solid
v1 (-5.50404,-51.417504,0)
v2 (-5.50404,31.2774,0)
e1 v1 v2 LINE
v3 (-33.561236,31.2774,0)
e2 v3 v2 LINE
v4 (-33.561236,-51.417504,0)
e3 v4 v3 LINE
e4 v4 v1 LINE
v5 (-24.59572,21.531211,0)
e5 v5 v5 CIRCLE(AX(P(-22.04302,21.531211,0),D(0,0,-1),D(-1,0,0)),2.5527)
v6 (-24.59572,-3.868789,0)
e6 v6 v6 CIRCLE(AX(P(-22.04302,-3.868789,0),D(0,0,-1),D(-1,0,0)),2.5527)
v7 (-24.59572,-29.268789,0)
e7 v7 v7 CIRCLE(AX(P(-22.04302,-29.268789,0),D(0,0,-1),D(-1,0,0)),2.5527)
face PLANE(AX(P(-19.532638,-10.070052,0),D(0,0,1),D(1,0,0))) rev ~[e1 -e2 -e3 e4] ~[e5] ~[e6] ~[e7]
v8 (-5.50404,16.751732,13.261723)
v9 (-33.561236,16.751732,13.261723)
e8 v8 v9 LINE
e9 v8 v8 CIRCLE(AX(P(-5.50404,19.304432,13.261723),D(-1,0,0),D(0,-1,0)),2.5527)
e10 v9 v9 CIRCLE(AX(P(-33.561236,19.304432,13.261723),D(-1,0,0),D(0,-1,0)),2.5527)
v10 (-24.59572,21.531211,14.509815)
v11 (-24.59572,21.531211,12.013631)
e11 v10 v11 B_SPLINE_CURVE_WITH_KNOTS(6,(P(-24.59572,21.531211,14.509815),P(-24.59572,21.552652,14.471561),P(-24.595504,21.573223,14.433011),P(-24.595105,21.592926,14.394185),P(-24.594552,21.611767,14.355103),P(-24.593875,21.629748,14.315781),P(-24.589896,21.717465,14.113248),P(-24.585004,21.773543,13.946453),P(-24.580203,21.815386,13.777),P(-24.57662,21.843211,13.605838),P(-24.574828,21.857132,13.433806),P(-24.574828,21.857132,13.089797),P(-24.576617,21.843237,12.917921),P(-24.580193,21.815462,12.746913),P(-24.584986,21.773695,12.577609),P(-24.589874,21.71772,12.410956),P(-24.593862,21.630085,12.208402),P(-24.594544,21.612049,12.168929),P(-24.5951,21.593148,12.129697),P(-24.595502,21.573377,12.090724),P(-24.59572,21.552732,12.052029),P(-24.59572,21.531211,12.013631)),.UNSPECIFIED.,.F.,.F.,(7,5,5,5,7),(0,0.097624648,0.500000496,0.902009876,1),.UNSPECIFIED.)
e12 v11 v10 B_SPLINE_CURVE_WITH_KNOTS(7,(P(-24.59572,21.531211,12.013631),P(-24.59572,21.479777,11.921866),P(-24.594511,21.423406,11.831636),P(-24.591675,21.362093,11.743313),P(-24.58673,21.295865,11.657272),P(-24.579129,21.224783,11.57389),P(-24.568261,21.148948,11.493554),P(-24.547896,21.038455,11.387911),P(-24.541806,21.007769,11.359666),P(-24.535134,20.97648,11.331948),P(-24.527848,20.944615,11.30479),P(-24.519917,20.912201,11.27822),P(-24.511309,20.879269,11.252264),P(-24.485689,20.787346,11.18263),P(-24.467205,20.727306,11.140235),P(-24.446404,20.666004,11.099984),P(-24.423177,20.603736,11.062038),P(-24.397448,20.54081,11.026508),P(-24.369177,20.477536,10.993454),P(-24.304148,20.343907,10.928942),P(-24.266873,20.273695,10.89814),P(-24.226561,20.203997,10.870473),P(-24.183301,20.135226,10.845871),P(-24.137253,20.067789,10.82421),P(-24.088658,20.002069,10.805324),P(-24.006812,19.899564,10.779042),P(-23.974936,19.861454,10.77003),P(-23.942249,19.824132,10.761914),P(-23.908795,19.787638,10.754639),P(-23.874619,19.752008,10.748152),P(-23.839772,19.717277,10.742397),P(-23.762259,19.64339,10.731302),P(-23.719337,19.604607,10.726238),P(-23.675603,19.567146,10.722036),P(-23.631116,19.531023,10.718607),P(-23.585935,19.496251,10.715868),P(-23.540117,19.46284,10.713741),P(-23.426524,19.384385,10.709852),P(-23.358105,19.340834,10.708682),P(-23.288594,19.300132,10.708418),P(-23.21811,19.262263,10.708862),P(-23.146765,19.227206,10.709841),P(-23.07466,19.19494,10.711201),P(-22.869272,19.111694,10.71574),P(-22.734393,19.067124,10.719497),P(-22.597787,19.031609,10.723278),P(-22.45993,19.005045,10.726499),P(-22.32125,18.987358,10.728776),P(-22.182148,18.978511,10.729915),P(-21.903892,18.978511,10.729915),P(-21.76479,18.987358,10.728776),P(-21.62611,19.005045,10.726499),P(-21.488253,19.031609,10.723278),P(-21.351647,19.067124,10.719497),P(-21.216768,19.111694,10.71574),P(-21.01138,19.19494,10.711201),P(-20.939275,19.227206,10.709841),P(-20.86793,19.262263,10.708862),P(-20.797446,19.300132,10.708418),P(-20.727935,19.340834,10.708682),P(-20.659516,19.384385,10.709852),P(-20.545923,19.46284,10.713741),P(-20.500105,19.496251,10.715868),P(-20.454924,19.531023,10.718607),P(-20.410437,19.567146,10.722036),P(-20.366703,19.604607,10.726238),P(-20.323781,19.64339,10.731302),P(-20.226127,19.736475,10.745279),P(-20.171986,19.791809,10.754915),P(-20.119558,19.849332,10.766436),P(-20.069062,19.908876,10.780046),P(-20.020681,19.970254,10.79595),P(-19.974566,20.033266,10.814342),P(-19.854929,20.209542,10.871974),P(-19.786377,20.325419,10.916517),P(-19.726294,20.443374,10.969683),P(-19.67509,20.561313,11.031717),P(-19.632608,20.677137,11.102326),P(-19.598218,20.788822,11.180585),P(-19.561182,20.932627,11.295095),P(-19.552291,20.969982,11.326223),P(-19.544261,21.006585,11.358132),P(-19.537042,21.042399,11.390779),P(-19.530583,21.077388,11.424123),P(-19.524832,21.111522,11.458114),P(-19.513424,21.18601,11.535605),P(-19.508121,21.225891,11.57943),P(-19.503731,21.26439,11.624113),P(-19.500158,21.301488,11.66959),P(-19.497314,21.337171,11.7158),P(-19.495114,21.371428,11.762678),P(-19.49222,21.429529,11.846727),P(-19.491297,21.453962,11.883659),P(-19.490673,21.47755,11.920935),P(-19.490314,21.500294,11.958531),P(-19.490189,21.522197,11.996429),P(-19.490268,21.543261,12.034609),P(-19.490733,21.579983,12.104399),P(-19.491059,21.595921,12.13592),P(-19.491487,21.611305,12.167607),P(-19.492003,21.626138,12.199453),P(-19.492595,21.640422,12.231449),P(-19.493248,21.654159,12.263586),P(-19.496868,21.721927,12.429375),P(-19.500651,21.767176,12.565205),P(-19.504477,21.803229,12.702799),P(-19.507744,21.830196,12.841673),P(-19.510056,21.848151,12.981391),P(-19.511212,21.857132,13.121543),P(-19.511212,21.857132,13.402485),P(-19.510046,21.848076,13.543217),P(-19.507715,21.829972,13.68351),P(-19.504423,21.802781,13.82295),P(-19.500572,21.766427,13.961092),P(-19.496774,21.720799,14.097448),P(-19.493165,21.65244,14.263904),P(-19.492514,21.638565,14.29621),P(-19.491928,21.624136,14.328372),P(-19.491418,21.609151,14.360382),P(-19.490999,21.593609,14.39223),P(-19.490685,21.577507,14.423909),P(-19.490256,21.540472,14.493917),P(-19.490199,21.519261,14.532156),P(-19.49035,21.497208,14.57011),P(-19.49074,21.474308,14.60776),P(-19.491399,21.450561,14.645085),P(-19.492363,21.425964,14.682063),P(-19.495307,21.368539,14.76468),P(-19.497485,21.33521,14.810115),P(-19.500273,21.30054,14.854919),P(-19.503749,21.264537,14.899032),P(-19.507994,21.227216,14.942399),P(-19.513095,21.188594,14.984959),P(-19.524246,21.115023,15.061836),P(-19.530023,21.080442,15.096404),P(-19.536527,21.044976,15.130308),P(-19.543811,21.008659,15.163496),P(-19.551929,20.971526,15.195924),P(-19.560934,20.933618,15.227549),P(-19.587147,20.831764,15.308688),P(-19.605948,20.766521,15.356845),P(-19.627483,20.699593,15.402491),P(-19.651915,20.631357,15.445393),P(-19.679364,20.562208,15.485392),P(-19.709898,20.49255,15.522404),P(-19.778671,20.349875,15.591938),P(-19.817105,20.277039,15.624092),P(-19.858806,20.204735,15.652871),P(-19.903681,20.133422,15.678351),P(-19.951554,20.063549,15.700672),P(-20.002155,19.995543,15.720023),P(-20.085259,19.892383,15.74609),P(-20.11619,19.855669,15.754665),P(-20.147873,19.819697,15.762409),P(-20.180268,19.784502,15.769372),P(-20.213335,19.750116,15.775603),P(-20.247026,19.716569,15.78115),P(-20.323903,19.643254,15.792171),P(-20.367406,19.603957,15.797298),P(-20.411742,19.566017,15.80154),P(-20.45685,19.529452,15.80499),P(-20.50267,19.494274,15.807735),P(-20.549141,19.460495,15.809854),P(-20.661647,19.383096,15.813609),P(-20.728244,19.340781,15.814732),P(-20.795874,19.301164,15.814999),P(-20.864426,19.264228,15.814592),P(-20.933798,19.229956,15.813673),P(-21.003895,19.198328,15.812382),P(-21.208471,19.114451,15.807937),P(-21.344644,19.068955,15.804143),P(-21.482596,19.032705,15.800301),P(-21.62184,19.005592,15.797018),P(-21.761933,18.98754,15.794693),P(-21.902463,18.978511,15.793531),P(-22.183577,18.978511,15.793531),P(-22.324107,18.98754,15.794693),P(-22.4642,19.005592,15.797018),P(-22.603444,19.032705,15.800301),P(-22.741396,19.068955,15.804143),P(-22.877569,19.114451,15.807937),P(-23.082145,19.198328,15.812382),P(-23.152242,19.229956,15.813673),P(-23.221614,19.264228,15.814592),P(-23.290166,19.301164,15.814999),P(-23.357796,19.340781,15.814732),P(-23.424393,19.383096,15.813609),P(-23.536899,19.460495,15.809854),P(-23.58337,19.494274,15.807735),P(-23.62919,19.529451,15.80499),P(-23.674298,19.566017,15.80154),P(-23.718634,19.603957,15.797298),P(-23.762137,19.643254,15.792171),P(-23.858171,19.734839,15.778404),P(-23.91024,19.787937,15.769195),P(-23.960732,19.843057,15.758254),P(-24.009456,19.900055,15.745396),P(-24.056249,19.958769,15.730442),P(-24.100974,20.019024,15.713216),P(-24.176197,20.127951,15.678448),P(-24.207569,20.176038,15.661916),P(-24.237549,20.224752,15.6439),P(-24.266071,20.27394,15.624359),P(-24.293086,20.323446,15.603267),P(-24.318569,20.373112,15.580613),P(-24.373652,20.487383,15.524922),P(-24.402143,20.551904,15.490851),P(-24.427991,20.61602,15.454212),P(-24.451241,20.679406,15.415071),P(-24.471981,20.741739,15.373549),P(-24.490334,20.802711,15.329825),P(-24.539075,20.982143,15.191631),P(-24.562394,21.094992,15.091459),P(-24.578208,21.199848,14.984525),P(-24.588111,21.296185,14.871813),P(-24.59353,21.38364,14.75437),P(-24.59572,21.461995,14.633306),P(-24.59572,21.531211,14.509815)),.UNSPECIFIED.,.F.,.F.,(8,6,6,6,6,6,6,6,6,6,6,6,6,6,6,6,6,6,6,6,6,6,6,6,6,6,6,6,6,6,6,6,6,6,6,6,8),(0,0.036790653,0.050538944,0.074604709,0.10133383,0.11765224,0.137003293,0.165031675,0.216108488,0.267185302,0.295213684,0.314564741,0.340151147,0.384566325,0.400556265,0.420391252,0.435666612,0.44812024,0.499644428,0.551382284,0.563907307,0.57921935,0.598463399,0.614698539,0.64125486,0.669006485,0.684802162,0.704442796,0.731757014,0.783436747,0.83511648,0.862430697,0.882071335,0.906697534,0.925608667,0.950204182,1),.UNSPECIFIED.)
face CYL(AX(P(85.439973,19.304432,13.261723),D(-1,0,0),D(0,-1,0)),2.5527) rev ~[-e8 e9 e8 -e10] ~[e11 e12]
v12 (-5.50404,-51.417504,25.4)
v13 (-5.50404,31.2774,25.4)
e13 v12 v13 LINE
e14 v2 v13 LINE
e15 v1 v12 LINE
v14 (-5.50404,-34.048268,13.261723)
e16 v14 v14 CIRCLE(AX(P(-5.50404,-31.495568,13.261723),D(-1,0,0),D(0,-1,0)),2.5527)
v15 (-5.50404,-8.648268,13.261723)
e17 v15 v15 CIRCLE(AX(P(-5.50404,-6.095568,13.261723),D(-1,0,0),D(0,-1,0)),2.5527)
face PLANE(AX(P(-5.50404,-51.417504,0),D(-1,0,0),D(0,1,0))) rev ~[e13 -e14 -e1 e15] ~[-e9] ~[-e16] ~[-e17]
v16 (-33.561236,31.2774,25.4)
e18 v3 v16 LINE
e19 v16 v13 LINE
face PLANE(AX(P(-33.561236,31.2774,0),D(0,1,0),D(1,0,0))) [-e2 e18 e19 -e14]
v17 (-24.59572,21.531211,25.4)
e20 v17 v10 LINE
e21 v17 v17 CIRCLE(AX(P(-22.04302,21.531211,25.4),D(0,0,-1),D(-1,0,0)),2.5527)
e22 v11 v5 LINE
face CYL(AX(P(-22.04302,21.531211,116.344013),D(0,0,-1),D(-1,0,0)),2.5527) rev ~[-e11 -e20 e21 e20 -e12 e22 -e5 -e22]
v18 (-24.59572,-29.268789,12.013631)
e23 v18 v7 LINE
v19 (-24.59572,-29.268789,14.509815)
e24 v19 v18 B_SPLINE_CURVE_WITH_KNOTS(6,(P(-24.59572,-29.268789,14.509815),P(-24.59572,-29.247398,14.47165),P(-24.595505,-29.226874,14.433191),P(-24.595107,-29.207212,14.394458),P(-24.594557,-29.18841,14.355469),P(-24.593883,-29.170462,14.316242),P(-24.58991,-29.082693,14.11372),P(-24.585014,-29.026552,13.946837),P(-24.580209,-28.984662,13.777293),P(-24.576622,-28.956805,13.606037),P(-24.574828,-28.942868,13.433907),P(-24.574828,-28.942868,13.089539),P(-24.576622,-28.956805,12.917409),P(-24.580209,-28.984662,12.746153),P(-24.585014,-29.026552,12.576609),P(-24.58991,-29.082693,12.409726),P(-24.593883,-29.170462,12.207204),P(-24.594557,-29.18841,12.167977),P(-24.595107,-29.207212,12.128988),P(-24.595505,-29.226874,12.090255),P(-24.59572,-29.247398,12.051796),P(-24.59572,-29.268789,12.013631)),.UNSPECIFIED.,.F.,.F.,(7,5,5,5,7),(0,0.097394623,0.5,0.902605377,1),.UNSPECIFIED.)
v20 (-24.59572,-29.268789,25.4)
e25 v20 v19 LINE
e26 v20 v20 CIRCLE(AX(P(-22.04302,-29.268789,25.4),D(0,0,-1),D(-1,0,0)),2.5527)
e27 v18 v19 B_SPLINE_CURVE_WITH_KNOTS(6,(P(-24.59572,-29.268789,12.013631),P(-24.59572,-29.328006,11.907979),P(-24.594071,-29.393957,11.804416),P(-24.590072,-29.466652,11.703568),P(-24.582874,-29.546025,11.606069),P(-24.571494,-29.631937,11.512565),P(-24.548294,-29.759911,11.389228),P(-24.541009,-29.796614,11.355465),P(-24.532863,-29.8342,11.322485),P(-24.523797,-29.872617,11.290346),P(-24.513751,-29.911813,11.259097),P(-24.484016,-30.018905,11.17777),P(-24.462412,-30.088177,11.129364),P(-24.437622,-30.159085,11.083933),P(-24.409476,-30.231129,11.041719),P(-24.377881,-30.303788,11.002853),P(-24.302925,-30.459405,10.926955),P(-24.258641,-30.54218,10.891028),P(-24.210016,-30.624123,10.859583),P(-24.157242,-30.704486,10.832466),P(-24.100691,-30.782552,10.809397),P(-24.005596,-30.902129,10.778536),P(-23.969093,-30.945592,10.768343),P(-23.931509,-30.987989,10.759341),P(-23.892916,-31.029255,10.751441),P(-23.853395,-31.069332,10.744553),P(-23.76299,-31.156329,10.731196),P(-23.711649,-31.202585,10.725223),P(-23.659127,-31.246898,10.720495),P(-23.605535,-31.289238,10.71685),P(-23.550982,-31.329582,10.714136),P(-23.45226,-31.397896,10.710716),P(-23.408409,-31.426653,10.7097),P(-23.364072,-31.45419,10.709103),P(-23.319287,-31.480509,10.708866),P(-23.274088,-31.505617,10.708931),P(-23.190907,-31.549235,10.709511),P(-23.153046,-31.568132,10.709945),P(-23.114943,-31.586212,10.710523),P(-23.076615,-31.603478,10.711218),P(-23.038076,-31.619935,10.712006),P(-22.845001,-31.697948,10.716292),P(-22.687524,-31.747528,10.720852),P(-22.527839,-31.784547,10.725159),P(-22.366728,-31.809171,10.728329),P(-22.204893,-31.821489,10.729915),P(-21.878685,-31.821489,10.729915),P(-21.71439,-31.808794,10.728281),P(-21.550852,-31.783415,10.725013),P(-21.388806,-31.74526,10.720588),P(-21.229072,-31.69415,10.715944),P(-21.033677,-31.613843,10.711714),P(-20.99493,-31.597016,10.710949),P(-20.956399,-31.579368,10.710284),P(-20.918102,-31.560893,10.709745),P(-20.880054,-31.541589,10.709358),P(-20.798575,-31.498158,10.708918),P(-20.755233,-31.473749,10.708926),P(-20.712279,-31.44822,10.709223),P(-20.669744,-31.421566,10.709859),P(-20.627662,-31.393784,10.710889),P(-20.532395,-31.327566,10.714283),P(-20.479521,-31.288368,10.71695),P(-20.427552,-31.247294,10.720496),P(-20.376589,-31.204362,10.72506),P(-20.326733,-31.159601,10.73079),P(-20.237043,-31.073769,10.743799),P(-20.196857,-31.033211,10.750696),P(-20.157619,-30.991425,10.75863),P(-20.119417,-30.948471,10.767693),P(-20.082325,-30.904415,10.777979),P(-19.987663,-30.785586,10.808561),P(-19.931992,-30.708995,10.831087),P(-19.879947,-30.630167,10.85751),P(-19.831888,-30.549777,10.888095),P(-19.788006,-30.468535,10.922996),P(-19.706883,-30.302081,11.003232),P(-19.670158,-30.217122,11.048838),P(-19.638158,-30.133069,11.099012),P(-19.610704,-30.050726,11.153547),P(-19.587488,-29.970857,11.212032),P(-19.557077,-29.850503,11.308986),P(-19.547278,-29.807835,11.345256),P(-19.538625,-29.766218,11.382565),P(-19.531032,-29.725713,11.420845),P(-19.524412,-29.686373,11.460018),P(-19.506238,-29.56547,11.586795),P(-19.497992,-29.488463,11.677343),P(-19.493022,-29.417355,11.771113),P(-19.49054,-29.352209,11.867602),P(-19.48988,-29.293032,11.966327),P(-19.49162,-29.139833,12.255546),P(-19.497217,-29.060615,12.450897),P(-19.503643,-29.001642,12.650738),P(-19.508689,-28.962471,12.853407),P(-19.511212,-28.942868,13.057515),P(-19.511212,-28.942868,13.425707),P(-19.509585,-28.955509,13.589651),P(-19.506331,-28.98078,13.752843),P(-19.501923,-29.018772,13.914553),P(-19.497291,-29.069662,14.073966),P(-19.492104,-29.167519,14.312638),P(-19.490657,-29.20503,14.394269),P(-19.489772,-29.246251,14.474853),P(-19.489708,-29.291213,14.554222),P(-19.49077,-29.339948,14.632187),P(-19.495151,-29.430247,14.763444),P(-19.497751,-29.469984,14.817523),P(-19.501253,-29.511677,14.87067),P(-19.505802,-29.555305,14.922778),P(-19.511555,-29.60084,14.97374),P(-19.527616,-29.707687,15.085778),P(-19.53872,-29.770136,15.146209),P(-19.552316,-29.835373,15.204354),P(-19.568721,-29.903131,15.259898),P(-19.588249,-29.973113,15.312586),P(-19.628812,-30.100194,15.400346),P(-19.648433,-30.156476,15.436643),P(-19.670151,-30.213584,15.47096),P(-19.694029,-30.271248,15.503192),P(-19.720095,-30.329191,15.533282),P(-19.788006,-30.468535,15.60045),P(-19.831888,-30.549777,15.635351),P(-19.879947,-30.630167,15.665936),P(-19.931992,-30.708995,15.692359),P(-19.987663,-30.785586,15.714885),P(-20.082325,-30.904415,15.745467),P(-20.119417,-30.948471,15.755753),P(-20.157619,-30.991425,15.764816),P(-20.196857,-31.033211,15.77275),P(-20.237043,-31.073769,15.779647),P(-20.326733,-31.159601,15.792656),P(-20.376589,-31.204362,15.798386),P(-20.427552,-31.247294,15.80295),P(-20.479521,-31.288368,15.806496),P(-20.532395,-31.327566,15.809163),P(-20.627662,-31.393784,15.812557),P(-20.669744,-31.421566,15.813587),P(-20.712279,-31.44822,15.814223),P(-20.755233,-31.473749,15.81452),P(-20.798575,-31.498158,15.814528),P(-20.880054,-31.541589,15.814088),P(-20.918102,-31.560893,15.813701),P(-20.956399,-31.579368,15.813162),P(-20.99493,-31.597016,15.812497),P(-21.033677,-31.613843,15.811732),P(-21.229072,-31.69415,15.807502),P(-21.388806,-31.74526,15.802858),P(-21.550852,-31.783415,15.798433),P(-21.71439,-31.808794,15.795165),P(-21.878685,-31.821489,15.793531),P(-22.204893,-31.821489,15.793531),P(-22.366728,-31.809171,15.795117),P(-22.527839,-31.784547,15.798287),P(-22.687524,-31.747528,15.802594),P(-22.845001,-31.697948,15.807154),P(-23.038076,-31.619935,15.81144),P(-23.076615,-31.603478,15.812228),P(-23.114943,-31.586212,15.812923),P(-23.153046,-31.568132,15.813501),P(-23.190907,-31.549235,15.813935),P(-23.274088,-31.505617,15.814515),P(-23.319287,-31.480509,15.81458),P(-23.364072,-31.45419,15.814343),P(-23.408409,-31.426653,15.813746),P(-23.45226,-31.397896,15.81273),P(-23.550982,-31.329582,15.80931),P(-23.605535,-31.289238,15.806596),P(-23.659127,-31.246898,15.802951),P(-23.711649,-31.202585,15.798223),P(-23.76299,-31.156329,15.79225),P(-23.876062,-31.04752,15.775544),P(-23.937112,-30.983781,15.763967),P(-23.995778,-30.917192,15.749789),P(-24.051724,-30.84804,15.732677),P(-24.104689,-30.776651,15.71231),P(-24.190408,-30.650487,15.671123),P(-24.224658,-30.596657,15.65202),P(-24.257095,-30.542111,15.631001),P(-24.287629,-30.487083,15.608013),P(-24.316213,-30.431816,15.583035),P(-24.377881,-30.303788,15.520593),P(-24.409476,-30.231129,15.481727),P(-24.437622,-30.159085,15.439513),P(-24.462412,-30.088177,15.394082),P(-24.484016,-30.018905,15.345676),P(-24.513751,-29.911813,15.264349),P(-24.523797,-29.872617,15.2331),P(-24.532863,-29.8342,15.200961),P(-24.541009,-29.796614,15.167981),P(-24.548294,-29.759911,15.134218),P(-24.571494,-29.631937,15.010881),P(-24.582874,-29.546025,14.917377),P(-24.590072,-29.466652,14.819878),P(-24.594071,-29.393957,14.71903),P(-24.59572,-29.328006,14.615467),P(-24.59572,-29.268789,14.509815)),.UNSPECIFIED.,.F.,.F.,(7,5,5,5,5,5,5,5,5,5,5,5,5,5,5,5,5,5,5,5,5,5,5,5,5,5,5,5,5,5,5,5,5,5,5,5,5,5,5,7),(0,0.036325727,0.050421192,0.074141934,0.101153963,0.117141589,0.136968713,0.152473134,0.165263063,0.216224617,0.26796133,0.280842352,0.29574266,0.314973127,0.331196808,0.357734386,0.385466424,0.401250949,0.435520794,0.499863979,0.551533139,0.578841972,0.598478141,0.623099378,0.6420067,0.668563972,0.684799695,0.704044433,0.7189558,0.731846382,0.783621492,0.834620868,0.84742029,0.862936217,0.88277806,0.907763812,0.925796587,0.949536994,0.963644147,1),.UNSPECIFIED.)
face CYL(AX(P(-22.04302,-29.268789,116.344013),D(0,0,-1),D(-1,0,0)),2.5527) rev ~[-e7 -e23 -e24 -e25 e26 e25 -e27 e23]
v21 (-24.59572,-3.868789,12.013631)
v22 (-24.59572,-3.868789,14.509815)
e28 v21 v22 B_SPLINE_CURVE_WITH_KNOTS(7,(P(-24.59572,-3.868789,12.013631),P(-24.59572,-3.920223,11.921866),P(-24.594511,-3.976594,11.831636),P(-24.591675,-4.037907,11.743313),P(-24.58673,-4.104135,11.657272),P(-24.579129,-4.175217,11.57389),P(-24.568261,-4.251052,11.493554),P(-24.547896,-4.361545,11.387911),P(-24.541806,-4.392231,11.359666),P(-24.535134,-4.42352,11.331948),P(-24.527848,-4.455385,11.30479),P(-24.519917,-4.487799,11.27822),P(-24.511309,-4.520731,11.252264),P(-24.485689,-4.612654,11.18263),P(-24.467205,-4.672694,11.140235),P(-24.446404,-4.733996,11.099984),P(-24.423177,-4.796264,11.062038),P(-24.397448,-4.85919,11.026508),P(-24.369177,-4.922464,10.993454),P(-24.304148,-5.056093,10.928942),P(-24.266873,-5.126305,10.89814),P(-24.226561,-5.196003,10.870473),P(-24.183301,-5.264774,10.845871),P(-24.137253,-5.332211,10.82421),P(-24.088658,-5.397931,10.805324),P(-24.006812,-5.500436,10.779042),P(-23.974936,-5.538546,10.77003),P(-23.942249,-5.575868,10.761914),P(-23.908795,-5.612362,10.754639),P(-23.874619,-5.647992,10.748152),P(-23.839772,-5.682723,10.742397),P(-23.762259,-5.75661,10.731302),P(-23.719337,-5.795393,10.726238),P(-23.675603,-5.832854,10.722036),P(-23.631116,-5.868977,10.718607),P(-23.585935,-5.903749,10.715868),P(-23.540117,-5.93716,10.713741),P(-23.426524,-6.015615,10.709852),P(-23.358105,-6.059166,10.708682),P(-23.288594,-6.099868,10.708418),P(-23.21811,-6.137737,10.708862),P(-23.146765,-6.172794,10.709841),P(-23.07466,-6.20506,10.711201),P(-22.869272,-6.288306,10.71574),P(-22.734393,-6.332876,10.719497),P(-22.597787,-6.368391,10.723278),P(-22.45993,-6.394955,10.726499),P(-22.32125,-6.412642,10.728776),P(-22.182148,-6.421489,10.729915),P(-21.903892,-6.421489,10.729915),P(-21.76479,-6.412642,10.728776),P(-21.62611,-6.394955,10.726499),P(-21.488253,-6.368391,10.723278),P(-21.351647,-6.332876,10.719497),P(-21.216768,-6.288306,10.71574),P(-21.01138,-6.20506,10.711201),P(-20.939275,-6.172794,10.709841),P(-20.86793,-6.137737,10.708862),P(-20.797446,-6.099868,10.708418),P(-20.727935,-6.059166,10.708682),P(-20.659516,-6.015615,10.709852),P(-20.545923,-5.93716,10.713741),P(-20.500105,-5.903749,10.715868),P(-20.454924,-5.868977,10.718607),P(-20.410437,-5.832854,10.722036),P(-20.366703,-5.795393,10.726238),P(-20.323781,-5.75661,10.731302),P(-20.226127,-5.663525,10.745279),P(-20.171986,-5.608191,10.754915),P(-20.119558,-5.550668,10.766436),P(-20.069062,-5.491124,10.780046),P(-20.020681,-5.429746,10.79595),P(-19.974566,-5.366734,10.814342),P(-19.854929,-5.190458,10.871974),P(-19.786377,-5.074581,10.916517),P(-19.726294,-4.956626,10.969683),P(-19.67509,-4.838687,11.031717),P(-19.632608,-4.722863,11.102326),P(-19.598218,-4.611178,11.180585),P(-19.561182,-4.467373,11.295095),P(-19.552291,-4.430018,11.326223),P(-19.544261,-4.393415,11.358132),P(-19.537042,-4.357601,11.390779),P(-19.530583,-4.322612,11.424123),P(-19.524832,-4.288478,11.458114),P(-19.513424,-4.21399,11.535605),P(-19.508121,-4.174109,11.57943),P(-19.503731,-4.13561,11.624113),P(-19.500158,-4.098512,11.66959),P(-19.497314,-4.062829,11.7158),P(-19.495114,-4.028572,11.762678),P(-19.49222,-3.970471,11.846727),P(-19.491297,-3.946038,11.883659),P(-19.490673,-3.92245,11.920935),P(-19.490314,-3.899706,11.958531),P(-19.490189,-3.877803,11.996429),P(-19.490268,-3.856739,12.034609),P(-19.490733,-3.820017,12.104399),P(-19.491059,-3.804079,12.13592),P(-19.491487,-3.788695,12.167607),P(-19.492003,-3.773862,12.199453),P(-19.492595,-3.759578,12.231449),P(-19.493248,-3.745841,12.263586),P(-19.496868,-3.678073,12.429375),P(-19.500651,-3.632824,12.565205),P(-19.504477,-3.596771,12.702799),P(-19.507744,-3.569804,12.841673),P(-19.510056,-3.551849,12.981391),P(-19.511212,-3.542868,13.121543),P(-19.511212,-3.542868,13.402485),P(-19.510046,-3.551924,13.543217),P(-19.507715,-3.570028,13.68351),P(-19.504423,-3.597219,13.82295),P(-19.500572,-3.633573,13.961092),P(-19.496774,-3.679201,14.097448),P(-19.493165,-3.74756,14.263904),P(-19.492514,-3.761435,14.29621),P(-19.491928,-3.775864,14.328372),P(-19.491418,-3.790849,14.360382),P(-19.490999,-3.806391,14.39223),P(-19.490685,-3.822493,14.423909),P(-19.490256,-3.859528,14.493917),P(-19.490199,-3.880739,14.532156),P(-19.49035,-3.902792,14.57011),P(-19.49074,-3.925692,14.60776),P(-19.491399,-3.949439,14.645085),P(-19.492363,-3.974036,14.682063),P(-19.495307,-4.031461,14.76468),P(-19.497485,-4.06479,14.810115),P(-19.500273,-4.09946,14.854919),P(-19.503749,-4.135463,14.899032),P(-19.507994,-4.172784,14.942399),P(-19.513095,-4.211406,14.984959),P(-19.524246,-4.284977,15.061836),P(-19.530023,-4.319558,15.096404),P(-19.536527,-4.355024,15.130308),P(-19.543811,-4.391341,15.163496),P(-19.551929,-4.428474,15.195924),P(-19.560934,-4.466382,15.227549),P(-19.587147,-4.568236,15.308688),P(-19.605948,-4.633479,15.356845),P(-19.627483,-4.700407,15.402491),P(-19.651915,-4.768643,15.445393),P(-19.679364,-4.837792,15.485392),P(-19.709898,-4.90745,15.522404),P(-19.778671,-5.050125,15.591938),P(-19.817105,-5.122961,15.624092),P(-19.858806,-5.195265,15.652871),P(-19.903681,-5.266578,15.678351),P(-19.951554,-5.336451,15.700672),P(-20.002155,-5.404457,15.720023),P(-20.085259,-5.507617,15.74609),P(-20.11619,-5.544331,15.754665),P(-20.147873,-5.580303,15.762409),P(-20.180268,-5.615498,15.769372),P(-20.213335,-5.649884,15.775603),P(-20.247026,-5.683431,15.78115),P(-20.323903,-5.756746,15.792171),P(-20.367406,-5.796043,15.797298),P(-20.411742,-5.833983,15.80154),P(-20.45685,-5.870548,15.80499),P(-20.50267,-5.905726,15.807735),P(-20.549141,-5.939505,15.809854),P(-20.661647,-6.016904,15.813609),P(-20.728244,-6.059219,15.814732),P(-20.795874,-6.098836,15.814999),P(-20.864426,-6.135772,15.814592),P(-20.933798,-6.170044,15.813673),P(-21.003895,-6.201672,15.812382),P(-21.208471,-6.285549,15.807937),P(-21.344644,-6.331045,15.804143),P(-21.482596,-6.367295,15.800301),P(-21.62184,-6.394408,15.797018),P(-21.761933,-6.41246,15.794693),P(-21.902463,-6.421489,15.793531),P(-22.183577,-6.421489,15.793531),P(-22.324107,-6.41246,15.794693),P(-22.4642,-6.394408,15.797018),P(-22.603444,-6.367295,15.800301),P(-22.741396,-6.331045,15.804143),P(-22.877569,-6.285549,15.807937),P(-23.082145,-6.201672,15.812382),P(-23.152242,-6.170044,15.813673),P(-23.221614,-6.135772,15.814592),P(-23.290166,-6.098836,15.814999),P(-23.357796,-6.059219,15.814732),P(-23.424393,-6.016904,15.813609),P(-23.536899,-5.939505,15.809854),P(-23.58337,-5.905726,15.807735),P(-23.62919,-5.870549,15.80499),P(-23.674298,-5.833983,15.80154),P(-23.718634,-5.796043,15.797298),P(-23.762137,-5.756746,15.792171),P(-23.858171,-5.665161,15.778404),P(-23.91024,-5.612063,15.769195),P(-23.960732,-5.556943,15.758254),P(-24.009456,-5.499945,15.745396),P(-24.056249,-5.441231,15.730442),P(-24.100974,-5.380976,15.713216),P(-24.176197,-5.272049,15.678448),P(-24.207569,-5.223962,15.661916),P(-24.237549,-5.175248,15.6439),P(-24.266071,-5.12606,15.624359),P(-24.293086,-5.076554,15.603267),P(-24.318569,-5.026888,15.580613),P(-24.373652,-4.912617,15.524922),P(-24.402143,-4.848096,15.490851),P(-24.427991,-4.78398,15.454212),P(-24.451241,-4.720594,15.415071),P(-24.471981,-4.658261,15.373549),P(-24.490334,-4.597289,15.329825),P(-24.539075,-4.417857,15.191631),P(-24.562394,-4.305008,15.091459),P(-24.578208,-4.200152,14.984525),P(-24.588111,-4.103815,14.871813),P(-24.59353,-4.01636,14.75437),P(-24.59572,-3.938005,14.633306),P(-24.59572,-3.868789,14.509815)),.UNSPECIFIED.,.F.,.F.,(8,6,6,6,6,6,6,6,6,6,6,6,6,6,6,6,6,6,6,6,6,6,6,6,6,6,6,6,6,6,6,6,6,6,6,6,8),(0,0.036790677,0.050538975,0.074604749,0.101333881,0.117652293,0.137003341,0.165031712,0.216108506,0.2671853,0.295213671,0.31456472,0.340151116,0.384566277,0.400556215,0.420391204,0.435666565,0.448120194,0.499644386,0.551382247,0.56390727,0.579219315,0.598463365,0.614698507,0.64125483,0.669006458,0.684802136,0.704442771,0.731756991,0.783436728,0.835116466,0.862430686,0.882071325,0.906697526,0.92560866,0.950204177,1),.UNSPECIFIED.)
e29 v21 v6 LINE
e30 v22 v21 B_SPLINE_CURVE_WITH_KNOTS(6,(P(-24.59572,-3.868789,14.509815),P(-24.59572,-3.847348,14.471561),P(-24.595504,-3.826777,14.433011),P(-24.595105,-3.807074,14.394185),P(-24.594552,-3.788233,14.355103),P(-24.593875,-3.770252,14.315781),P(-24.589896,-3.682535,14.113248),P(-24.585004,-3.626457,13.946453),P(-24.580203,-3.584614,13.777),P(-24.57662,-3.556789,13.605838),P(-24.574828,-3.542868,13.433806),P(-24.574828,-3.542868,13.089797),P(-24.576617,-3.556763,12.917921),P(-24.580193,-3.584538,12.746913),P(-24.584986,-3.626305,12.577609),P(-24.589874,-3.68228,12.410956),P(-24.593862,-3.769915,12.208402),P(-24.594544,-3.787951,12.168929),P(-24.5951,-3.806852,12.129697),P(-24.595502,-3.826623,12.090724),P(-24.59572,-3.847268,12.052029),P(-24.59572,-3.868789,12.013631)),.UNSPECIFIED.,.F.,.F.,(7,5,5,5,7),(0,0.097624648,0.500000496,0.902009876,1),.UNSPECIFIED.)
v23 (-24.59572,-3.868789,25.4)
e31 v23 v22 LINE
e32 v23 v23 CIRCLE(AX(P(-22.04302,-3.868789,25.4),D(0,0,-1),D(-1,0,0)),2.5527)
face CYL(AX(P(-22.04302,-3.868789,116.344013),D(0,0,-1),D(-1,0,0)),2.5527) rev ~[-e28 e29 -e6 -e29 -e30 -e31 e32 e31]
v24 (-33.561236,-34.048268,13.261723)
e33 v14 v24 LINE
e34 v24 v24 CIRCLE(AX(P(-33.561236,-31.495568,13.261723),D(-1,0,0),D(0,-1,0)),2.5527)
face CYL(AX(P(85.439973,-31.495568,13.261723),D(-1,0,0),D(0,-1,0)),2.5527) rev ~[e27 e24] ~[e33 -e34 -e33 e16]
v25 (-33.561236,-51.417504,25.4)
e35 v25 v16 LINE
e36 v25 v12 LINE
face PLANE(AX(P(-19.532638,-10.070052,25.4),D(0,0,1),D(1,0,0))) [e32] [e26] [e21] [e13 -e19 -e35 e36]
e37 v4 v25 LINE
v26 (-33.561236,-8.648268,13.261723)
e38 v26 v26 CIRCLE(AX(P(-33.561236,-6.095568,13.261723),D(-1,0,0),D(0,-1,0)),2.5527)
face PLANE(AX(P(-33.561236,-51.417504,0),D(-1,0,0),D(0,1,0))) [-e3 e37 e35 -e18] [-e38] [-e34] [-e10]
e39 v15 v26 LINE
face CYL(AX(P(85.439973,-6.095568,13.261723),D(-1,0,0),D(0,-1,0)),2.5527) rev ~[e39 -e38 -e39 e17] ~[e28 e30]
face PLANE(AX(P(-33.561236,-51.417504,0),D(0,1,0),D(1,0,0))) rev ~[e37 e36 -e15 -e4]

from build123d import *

# Parameters (mm, degrees)
F0_W     = 28.057197
F0_H     = 82.694904
F1_DEPTH = 25.4
F4_D     = 5.1054
F5_D     = 5.1054


with BuildPart() as f1:
    # F0 (on Top) → F1 (new body)
    with BuildSketch(Plane.XY):
        with Locations((-19.532638, -10.070052)):
            Rectangle(F0_W, F0_H)
    extrude(amount=F1_DEPTH)

    # F4 (through all)
    with Locations(Plane.YZ.offset(-5.50404)):
        with Locations((19.304432, 13.261723), (-6.095568, 13.261723), (-31.495568, 13.261723)):
            Hole(F4_D / 2)

    # F5 (through all)
    with Locations(Plane.XY.offset(25.4)):
        with Locations((-22.04302, 21.531211), (-22.04302, -3.868789), (-22.04302, -29.268789)):
            Hole(F5_D / 2)


solid = f1.part
